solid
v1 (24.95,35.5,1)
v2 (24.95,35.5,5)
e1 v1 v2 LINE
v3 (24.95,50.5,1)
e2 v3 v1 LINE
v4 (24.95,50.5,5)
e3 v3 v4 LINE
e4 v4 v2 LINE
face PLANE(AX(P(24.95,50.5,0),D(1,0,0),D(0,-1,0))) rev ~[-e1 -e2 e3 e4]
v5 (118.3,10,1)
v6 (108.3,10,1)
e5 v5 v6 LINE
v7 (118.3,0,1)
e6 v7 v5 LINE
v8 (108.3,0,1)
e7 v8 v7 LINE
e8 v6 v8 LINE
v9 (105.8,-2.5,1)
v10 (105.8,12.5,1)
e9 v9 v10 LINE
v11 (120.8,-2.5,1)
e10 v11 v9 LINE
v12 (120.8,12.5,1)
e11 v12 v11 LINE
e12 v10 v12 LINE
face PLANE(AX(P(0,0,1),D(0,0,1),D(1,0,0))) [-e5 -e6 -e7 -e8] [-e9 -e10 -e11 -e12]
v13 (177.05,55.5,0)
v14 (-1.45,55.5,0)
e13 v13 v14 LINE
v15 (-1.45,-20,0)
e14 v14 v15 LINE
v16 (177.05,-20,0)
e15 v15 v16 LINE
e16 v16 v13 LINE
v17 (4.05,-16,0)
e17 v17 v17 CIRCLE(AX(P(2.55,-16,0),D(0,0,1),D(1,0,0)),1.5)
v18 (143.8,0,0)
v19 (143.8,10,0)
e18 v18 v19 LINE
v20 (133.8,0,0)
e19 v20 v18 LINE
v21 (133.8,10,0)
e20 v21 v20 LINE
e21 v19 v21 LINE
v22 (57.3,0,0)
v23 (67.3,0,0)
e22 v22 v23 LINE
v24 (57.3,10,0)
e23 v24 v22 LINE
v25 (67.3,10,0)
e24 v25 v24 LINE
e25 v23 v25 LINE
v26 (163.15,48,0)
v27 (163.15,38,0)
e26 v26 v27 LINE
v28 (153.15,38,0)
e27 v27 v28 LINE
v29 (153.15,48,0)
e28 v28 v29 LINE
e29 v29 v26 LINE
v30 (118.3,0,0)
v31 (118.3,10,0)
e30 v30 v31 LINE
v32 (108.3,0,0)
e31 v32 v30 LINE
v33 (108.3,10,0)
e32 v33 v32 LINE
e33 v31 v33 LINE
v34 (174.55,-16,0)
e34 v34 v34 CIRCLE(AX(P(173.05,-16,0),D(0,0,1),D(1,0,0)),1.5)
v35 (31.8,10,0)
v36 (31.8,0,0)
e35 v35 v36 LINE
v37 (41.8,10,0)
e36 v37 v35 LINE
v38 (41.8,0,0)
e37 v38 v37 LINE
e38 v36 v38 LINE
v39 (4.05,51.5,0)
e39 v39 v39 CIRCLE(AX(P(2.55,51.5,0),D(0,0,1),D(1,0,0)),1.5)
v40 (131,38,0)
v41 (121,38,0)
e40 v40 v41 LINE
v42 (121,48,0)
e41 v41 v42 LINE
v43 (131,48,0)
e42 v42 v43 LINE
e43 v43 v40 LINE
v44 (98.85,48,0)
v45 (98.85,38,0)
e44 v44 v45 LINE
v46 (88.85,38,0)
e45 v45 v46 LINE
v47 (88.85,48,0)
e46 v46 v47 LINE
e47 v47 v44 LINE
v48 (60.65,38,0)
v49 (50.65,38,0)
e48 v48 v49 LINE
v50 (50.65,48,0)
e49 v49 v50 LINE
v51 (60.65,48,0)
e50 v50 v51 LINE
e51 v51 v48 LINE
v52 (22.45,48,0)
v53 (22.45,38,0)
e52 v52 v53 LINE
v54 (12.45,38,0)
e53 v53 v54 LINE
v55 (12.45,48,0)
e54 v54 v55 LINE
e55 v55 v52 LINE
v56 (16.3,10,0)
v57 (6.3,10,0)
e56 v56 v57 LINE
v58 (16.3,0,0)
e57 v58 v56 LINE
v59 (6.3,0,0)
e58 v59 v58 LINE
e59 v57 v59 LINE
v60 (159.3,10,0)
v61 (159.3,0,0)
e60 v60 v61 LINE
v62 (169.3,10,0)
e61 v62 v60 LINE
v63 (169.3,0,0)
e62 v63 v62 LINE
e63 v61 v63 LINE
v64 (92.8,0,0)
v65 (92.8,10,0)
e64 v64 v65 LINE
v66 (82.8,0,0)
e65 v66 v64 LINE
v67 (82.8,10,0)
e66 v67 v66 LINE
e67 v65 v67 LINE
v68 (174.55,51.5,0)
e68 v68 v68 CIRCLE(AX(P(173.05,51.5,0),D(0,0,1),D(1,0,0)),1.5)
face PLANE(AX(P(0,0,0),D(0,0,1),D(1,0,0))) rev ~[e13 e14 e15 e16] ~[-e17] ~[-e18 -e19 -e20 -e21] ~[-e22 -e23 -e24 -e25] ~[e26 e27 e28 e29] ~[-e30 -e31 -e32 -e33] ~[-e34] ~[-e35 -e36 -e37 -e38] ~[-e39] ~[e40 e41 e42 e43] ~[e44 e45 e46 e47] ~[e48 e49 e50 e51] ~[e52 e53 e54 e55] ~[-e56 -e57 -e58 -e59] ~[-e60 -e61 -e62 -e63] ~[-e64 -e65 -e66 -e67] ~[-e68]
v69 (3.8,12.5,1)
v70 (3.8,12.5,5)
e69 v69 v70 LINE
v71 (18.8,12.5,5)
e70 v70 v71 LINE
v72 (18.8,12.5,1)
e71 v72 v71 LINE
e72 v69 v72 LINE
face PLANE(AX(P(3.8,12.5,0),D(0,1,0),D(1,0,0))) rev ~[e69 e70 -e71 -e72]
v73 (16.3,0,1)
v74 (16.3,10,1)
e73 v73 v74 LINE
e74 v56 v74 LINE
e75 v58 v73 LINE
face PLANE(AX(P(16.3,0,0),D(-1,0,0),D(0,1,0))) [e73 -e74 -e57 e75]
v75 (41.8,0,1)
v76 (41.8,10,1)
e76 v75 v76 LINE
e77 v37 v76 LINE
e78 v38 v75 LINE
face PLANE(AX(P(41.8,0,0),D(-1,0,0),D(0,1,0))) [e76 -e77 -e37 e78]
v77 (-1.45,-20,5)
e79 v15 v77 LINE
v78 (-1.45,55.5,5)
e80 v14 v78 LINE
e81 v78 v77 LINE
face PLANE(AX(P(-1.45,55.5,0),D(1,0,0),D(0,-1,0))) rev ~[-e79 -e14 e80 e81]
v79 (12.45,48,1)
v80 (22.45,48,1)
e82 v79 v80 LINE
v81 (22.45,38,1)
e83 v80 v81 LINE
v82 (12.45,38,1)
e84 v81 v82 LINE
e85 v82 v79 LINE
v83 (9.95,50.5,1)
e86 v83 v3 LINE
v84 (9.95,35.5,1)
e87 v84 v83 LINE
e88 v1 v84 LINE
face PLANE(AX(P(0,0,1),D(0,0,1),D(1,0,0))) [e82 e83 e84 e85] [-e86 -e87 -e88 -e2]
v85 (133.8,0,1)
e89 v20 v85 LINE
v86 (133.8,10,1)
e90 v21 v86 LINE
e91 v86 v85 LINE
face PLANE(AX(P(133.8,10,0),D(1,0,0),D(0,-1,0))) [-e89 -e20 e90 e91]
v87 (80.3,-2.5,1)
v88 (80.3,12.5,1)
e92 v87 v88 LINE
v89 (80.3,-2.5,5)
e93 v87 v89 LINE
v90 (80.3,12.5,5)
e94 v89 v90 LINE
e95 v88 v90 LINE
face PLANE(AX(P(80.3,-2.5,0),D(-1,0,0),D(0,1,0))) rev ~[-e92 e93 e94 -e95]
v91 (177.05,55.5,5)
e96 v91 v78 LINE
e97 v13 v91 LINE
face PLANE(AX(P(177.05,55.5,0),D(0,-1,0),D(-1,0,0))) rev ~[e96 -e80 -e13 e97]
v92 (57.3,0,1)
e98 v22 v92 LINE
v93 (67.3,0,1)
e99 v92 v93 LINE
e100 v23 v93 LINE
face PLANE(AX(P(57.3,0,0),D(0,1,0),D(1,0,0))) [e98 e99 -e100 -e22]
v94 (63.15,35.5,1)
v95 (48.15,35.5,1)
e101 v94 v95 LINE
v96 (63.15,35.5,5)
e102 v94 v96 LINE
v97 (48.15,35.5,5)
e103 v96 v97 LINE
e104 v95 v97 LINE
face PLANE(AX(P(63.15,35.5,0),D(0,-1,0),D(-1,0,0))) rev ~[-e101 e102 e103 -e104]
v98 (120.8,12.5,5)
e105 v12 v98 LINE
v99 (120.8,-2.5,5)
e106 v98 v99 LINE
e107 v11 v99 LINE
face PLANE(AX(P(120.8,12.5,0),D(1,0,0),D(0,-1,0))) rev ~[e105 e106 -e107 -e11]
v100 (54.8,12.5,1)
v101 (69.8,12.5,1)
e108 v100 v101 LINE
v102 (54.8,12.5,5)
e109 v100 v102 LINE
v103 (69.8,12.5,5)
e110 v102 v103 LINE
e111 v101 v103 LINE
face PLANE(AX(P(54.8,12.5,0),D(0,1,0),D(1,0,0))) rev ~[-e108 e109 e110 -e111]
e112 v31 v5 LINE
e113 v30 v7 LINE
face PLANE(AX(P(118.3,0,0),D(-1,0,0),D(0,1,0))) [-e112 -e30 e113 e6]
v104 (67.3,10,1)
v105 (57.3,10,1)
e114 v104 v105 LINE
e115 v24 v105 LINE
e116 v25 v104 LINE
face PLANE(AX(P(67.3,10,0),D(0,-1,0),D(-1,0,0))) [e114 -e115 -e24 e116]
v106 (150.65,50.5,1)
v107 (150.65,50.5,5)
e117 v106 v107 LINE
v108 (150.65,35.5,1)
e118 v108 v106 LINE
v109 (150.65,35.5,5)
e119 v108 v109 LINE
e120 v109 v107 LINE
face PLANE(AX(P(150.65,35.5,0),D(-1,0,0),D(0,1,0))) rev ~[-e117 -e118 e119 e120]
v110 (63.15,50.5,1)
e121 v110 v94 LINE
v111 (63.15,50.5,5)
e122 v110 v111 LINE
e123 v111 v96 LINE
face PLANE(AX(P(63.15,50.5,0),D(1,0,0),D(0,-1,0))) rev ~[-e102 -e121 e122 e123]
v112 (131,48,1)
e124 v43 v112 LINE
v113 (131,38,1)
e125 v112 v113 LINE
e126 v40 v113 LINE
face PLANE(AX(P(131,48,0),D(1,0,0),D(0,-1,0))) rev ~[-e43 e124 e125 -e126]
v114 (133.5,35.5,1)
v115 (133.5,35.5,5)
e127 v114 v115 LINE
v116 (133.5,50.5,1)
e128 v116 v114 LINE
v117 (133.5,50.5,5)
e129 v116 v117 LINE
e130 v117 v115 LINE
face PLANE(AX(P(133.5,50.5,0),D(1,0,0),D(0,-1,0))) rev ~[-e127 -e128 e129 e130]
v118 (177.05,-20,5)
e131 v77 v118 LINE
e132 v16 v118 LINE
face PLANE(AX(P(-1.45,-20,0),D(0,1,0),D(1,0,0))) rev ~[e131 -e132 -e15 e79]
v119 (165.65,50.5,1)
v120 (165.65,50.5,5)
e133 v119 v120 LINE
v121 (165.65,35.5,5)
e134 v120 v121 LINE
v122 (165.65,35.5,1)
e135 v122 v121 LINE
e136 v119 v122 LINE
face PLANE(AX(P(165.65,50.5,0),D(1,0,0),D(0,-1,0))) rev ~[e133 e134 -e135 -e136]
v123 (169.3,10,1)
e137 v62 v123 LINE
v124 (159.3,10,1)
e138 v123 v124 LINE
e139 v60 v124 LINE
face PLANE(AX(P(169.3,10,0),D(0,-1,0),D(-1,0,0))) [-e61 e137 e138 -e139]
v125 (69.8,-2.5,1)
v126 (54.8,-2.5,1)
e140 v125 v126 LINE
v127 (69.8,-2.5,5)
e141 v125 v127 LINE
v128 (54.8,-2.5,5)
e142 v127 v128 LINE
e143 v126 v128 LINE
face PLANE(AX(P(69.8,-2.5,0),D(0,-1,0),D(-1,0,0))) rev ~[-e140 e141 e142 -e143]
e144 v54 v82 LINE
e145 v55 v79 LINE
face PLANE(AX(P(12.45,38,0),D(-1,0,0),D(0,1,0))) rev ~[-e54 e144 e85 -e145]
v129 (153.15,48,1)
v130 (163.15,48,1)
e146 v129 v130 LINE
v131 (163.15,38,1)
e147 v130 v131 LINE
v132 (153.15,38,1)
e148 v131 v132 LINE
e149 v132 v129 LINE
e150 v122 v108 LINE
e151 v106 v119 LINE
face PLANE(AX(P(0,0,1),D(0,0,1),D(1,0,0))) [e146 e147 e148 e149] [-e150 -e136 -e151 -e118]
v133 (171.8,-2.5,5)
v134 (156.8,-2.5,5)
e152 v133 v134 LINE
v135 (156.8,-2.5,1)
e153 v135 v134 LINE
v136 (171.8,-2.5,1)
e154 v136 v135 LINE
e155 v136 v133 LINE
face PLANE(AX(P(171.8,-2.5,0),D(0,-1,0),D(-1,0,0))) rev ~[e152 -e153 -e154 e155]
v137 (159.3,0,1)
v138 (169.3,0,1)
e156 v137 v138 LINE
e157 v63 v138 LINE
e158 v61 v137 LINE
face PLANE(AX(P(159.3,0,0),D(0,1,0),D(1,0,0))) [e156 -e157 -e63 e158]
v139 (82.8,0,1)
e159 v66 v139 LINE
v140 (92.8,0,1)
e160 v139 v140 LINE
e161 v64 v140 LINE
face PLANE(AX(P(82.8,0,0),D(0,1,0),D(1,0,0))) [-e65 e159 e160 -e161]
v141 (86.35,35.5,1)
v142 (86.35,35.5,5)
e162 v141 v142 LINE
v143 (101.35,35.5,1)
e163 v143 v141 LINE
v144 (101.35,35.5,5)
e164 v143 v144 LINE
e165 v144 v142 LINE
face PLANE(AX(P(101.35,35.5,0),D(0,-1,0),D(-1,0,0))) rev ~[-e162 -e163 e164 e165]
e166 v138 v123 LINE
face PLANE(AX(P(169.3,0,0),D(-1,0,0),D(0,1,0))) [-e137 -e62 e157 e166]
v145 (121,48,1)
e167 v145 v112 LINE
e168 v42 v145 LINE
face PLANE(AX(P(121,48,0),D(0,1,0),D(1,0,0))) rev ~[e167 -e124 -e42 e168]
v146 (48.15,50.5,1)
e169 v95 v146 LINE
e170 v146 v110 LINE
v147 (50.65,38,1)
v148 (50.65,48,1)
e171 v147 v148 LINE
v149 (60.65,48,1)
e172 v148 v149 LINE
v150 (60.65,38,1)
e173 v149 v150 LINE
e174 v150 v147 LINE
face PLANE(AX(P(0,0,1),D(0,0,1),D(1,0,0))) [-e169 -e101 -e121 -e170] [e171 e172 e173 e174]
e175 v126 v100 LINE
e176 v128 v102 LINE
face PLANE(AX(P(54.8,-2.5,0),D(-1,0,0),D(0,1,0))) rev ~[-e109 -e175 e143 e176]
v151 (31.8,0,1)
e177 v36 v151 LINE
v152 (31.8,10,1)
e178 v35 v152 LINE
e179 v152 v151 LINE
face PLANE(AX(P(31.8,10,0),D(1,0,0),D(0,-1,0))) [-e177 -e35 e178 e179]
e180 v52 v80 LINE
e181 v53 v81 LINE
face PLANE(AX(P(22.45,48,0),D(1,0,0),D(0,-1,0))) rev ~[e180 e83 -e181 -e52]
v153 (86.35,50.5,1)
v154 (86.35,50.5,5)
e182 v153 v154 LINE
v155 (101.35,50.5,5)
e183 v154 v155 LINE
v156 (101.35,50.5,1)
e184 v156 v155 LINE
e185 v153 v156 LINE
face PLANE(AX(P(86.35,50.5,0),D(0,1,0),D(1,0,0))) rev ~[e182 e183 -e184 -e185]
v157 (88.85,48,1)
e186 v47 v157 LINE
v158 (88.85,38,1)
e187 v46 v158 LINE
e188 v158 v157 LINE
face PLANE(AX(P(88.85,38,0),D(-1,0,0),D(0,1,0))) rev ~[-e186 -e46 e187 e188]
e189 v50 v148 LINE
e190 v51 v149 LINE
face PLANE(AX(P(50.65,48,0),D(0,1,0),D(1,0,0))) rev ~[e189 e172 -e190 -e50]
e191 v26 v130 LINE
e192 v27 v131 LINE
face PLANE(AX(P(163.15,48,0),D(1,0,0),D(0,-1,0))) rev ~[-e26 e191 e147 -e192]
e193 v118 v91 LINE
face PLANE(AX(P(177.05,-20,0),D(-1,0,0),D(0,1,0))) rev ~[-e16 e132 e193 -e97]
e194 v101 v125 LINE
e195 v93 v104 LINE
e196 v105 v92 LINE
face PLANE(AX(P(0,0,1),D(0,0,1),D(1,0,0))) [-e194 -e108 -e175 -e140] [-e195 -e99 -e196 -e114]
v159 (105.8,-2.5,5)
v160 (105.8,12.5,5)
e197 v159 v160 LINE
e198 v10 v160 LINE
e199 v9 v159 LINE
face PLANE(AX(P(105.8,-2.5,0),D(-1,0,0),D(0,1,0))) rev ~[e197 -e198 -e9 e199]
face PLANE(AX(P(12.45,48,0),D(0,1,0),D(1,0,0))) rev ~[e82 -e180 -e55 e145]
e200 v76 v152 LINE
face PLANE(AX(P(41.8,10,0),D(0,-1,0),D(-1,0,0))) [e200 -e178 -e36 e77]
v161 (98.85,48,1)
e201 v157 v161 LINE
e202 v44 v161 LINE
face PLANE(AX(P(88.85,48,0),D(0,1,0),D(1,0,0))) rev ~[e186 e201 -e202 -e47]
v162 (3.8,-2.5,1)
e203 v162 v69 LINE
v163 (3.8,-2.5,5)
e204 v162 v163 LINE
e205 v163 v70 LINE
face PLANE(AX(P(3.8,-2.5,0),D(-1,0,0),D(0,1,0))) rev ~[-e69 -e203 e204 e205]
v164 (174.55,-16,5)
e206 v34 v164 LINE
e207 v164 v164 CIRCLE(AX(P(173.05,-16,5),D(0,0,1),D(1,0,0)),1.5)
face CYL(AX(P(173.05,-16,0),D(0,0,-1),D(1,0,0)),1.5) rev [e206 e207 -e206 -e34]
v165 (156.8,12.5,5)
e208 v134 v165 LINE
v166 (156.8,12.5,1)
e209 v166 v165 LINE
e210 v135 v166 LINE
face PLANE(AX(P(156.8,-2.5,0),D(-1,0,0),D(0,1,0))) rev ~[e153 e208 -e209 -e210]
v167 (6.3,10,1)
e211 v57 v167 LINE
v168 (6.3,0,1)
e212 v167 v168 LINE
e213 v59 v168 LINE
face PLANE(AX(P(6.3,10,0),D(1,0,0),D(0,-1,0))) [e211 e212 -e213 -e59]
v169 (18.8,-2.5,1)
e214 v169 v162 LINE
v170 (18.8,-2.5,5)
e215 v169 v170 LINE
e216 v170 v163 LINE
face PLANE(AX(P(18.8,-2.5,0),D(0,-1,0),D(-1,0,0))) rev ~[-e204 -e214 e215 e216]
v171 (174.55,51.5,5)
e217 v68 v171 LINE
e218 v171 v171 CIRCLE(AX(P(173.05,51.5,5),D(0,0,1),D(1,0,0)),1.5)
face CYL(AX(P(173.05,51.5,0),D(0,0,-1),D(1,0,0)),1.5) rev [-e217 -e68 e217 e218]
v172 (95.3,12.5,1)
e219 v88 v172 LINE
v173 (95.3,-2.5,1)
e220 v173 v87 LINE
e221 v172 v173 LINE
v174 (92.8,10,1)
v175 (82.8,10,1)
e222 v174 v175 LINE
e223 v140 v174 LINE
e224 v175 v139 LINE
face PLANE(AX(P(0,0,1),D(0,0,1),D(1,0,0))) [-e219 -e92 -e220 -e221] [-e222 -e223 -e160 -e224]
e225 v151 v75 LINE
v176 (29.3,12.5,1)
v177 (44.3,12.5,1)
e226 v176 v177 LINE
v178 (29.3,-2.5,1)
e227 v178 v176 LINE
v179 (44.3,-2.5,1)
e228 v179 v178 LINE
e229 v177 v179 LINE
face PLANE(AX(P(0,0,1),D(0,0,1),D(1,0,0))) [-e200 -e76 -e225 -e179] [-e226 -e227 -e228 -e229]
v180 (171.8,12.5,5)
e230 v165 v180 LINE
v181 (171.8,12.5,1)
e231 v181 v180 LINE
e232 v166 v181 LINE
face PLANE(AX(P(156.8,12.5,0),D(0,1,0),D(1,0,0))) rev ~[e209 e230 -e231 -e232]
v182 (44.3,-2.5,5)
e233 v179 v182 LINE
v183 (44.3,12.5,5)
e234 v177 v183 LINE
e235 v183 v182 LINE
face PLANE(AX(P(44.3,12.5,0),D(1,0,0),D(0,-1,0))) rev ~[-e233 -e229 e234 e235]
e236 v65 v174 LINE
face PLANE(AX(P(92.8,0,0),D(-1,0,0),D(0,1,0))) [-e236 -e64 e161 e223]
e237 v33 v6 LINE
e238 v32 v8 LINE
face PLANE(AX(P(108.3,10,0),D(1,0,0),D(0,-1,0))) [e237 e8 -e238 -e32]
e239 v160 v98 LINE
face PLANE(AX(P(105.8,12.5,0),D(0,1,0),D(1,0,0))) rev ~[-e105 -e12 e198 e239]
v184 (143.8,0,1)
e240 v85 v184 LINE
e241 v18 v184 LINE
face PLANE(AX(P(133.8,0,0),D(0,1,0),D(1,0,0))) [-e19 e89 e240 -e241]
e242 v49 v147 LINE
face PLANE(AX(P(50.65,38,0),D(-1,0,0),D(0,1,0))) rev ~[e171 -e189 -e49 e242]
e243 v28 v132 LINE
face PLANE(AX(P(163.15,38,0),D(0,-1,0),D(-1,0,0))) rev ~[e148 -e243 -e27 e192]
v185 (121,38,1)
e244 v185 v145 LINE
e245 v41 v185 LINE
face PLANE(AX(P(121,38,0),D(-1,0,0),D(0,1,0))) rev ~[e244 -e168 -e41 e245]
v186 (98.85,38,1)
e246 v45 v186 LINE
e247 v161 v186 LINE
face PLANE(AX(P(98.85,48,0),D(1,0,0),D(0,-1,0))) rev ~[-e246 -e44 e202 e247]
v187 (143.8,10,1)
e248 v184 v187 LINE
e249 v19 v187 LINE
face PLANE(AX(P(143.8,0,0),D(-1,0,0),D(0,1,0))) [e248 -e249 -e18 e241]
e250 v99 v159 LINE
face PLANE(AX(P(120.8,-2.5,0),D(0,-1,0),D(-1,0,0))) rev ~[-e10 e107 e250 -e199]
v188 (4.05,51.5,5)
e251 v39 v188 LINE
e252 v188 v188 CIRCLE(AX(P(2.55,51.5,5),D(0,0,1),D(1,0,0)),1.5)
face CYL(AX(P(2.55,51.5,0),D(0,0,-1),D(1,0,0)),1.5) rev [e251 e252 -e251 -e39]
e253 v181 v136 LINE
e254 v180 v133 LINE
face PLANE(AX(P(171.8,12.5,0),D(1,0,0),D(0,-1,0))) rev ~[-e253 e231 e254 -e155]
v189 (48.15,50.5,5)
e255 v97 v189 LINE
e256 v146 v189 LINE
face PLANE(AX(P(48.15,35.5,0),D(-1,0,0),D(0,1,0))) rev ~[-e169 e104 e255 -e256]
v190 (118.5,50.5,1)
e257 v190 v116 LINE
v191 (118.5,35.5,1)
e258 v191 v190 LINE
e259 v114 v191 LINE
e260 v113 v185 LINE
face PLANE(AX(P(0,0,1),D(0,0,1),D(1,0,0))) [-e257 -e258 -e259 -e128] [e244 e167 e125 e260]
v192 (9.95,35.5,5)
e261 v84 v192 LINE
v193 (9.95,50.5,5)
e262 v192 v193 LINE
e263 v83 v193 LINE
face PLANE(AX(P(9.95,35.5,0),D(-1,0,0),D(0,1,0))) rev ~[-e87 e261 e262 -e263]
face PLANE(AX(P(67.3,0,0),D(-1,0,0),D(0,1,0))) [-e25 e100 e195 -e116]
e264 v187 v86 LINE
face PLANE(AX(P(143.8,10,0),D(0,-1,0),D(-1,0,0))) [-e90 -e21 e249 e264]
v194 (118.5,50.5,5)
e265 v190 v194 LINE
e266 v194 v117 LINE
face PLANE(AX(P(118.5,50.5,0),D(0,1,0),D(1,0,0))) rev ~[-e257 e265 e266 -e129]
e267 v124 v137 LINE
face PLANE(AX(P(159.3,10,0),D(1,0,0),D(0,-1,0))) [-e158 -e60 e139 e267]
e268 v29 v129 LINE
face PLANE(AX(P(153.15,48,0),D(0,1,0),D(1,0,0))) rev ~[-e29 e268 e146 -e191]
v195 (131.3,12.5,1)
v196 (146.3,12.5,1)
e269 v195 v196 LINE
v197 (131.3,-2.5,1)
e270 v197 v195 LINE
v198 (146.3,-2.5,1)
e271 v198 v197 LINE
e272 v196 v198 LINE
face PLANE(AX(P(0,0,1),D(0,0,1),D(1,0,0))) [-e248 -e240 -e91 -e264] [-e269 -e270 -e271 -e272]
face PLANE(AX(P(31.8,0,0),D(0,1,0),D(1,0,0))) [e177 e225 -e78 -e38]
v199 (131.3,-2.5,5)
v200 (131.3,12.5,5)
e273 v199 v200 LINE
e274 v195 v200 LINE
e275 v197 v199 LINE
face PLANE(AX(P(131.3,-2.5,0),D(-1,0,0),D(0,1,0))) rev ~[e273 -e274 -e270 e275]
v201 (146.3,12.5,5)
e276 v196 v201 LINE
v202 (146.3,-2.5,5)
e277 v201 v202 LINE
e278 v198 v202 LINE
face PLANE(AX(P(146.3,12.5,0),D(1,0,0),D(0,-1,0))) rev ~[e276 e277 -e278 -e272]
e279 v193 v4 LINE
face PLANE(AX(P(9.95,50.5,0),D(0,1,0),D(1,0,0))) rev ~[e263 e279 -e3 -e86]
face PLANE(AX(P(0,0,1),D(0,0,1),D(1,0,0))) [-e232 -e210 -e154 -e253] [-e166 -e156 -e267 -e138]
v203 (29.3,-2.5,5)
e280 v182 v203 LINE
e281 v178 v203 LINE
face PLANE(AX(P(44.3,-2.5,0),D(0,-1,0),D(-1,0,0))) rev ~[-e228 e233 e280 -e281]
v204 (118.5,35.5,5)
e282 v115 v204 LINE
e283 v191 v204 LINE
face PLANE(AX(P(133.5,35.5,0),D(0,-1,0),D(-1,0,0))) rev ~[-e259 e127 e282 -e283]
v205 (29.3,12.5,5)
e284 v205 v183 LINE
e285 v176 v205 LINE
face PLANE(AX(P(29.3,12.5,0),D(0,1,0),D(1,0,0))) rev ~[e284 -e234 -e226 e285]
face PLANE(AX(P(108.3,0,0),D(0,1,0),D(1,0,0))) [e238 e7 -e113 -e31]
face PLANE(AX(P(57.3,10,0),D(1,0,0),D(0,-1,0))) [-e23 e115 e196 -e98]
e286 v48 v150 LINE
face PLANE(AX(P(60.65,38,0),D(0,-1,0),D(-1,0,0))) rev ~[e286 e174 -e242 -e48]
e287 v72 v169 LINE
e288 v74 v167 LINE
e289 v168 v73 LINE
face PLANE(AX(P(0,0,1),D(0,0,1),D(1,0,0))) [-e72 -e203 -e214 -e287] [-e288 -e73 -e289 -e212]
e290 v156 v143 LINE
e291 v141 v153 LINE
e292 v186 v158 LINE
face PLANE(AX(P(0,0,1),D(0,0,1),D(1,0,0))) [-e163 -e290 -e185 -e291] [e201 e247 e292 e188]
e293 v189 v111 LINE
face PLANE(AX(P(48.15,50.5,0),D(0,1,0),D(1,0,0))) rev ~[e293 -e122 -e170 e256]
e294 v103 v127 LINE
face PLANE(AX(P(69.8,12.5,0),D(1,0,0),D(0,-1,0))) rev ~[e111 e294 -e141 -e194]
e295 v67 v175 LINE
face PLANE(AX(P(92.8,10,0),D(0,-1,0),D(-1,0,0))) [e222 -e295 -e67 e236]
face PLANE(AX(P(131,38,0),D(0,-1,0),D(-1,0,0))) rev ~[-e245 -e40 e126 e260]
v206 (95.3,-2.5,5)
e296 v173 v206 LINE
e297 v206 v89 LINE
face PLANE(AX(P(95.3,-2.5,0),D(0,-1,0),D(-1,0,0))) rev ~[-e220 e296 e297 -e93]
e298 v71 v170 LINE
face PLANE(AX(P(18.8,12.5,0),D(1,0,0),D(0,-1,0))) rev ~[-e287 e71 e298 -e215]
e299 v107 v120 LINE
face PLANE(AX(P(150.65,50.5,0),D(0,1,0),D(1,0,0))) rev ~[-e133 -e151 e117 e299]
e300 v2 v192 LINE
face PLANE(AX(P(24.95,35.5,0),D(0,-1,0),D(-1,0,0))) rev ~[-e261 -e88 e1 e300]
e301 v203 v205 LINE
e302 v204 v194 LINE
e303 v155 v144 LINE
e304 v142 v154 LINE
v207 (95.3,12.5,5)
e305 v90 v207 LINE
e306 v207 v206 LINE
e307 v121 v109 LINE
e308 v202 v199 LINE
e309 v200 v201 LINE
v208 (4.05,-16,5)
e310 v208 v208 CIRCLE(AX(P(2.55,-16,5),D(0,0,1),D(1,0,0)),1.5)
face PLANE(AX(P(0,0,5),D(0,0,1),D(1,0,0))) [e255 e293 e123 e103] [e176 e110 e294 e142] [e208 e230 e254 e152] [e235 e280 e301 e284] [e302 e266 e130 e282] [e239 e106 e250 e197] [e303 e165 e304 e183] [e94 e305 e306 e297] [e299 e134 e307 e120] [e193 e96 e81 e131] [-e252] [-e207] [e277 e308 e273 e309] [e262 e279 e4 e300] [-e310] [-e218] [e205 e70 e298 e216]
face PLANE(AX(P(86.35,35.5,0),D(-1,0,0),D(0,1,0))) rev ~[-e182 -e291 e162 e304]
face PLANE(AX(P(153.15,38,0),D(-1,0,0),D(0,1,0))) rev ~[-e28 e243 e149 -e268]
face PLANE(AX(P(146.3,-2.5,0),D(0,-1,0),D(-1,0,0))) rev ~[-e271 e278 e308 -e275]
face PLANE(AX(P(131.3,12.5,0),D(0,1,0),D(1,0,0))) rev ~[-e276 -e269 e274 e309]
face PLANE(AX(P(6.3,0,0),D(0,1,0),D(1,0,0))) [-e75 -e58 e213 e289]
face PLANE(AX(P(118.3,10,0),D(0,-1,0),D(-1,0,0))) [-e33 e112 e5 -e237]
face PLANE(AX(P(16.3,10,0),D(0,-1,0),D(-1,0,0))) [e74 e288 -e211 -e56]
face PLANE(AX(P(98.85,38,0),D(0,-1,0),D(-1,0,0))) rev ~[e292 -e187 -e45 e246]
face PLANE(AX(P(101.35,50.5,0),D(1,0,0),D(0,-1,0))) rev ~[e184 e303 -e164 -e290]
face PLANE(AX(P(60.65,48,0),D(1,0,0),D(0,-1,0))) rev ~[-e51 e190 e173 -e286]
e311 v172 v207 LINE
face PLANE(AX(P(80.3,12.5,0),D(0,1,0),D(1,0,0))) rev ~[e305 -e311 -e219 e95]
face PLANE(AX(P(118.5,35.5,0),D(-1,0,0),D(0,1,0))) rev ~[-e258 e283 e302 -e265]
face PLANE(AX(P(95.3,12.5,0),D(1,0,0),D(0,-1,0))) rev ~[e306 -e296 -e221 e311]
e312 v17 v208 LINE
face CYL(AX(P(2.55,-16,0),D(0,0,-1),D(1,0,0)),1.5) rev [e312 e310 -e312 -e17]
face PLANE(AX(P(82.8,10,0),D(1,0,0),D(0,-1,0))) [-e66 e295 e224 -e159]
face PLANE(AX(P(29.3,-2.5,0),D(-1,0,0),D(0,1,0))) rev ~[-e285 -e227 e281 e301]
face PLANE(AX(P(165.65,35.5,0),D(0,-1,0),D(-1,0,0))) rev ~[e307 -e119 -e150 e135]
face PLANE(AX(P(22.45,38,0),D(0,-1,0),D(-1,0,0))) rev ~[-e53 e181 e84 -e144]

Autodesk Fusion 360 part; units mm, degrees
sketch "Sketch1" plane through (0, 0, 0) normal (0, 0, 1) x (1, 0, 0)
  line L0 (-23.9041, 0) -> (63.45, 0) construction
  line L1 (78.95, 0) -> (176.0959, 0) construction
  line L2 (-1.45, -20) -> (177.05, -20)
  line L3 (177.05, -20) -> (177.05, 55.5)
  line L4 (177.05, 55.5) -> (-1.45, 55.5)
  line L5 (-1.45, 55.5) -> (-1.45, -20)
  line L6 (6.3, 0) -> (16.3, 0)
  line L7 (16.3, 0) -> (16.3, 10)
  line L8 (16.3, 10) -> (6.3, 10)
  line L9 (6.3, 10) -> (6.3, 0)
  line L10 (31.8, 0) -> (41.8, 0)
  line L11 (41.8, 0) -> (41.8, 10)
  line L12 (41.8, 10) -> (31.8, 10)
  line L13 (31.8, 10) -> (31.8, 0)
  line L14 (57.3, 0) -> (67.3, 0)
  line L15 (67.3, 0) -> (67.3, 10)
  line L16 (67.3, 10) -> (57.3, 10)
  line L17 (57.3, 10) -> (57.3, 0)
  line L18 (82.8, 0) -> (92.8, 0)
  line L19 (92.8, 0) -> (92.8, 10)
  line L20 (92.8, 10) -> (82.8, 10)
  line L21 (82.8, 10) -> (82.8, 0)
  line L22 (108.3, 0) -> (118.3, 0)
  line L23 (118.3, 0) -> (118.3, 10)
  line L24 (118.3, 10) -> (108.3, 10)
  line L25 (108.3, 10) -> (108.3, 0)
  line L26 (133.8, 0) -> (143.8, 0)
  line L27 (143.8, 0) -> (143.8, 10)
  line L28 (143.8, 10) -> (133.8, 10)
  line L29 (133.8, 10) -> (133.8, 0)
  line L30 (159.3, 0) -> (169.3, 0)
  line L31 (169.3, 0) -> (169.3, 10)
  line L32 (169.3, 10) -> (159.3, 10)
  line L33 (159.3, 10) -> (159.3, 0)
  line L34 (12.45, 48) -> (22.45, 48)
  line L35 (22.45, 48) -> (22.45, 38)
  line L36 (22.45, 38) -> (12.45, 38)
  line L37 (12.45, 38) -> (12.45, 48)
  line L38 (50.65, 48) -> (60.65, 48)
  line L39 (60.65, 48) -> (60.65, 38)
  line L40 (60.65, 38) -> (50.65, 38)
  line L41 (50.65, 38) -> (50.65, 48)
  line L42 (88.85, 48) -> (98.85, 48)
  line L43 (98.85, 48) -> (98.85, 38)
  line L44 (98.85, 38) -> (88.85, 38)
  line L45 (88.85, 38) -> (88.85, 48)
  line L46 (121, 48) -> (131, 48)
  line L47 (131, 48) -> (131, 38)
  line L48 (131, 38) -> (121, 38)
  line L49 (121, 38) -> (121, 48)
  line L50 (153.15, 48) -> (163.15, 48)
  line L51 (163.15, 48) -> (163.15, 38)
  line L52 (163.15, 38) -> (153.15, 38)
  line L53 (153.15, 38) -> (153.15, 48)
  line L54 (9.95, 50.5) -> (24.95, 50.5)
  line L55 (24.95, 50.5) -> (24.95, 35.5)
  line L56 (24.95, 35.5) -> (9.95, 35.5)
  line L57 (9.95, 35.5) -> (9.95, 50.5)
  line L58 (9.95, 50.5) -> (24.95, 35.5) construction
  line L59 (24.95, 50.5) -> (9.95, 35.5) construction
  line L60 (48.15, 50.5) -> (63.15, 50.5)
  line L61 (63.15, 50.5) -> (63.15, 35.5)
  line L62 (63.15, 35.5) -> (48.15, 35.5)
  line L63 (48.15, 35.5) -> (48.15, 50.5)
  line L64 (48.15, 50.5) -> (63.15, 35.5) construction
  line L65 (63.15, 50.5) -> (48.15, 35.5) construction
  line L66 (86.35, 50.5) -> (101.35, 50.5)
  line L67 (101.35, 50.5) -> (101.35, 35.5)
  line L68 (101.35, 35.5) -> (86.35, 35.5)
  line L69 (86.35, 35.5) -> (86.35, 50.5)
  line L70 (86.35, 50.5) -> (101.35, 35.5) construction
  line L71 (101.35, 50.5) -> (86.35, 35.5) construction
  line L72 (118.5, 50.5) -> (133.5, 50.5)
  line L73 (133.5, 50.5) -> (133.5, 35.5)
  line L74 (133.5, 35.5) -> (118.5, 35.5)
  line L75 (118.5, 35.5) -> (118.5, 50.5)
  line L76 (118.5, 50.5) -> (133.5, 35.5) construction
  line L77 (133.5, 50.5) -> (118.5, 35.5) construction
  line L78 (150.65, 50.5) -> (165.65, 50.5)
  line L79 (165.65, 50.5) -> (165.65, 35.5)
  line L80 (165.65, 35.5) -> (150.65, 35.5)
  line L81 (150.65, 35.5) -> (150.65, 50.5)
  line L82 (150.65, 50.5) -> (165.65, 35.5) construction
  line L83 (165.65, 50.5) -> (150.65, 35.5) construction
  line L84 (3.8, 12.5) -> (18.8, 12.5)
  line L85 (18.8, 12.5) -> (18.8, -2.5)
  line L86 (18.8, -2.5) -> (3.8, -2.5)
  line L87 (3.8, -2.5) -> (3.8, 12.5)
  line L88 (3.8, 12.5) -> (18.8, -2.5) construction
  line L89 (18.8, 12.5) -> (3.8, -2.5) construction
  line L90 (29.3, 12.5) -> (44.3, 12.5)
  line L91 (44.3, 12.5) -> (44.3, -2.5)
  line L92 (44.3, -2.5) -> (29.3, -2.5)
  line L93 (29.3, -2.5) -> (29.3, 12.5)
  line L94 (29.3, 12.5) -> (44.3, -2.5) construction
  line L95 (44.3, 12.5) -> (29.3, -2.5) construction
  line L96 (54.8, 12.5) -> (69.8, 12.5)
  line L97 (69.8, 12.5) -> (69.8, -2.5)
  line L98 (69.8, -2.5) -> (54.8, -2.5)
  line L99 (54.8, -2.5) -> (54.8, 12.5)
  line L100 (54.8, 12.5) -> (69.8, -2.5) construction
  line L101 (69.8, 12.5) -> (54.8, -2.5) construction
  line L102 (80.3, 12.5) -> (95.3, 12.5)
  line L103 (95.3, 12.5) -> (95.3, -2.5)
  line L104 (95.3, -2.5) -> (80.3, -2.5)
  line L105 (80.3, -2.5) -> (80.3, 12.5)
  line L106 (80.3, 12.5) -> (95.3, -2.5) construction
  line L107 (95.3, 12.5) -> (80.3, -2.5) construction
  line L108 (105.8, 12.5) -> (120.8, 12.5)
  line L109 (120.8, 12.5) -> (120.8, -2.5)
  line L110 (120.8, -2.5) -> (105.8, -2.5)
  line L111 (105.8, -2.5) -> (105.8, 12.5)
  line L112 (105.8, 12.5) -> (120.8, -2.5) construction
  line L113 (120.8, 12.5) -> (105.8, -2.5) construction
  line L114 (131.3, 12.5) -> (146.3, 12.5)
  line L115 (146.3, 12.5) -> (146.3, -2.5)
  line L116 (146.3, -2.5) -> (131.3, -2.5)
  line L117 (131.3, -2.5) -> (131.3, 12.5)
  line L118 (131.3, 12.5) -> (146.3, -2.5) construction
  line L119 (146.3, 12.5) -> (131.3, -2.5) construction
  line L120 (156.8, 12.5) -> (171.8, 12.5)
  line L121 (171.8, 12.5) -> (171.8, -2.5)
  line L122 (171.8, -2.5) -> (156.8, -2.5)
  line L123 (156.8, -2.5) -> (156.8, 12.5)
  line L124 (156.8, 12.5) -> (171.8, -2.5) construction
  line L125 (171.8, 12.5) -> (156.8, -2.5) construction
  circle A0 centre (2.55, 51.5) radius 1.5
  circle A1 centre (2.55, -16) radius 1.5
  circle A2 centre (173.05, -16) radius 1.5
  circle A3 centre (173.05, 51.5) radius 1.5
  point P0 (-11.7503, 0.5527)
  point P1 (17.45, 43)
  point P2 (55.65, 43)
  point P3 (93.85, 43)
  point P4 (126, 43)
  point P5 (158.15, 43)
  point P6 (11.3, 5)
  point P7 (36.8, 5)
  point P8 (62.3, 5)
  point P9 (87.8, 5)
  point P10 (113.3, 5)
  point P11 (138.8, 5)
  point P12 (164.3, 5)
  dimension "d77" = 200
  dimension "d86" = 75.5
  dimension "d89" = 10
  dimension "d90" = 10
  dimension "d91" = 20
  dimension "d92" = 7.75
  dimension "d93" = 10
  dimension "d94" = 10
  dimension "d95" = 10
  dimension "d96" = 10
  dimension "d99" = 10
  dimension "d100" = 10
  dimension "d101" = 15.5
  dimension "d102" = 15.5
  dimension "d104" = 15.5
  dimension "d105" = 10
  dimension "d106" = 10
  dimension "d107" = 15.5
  dimension "d108" = 10
  dimension "d109" = 10
  dimension "d110" = 15.5
  dimension "d111" = 10
  dimension "d112" = 10
  dimension "d113" = 15.5
  dimension "d114" = 10
  dimension "d115" = 10
  dimension "d116" = 13.9
  dimension "d117" = 7.5
  dimension "d118" = 10
  dimension "d119" = 10
  dimension "d120" = 7.5
  dimension "d121" = 28.2
  dimension "d122" = 10
  dimension "d123" = 10
  dimension "d124" = 28.2
  dimension "d125" = 7.5
  dimension "d126" = 10
  dimension "d127" = 10
  dimension "d128" = 22.15
  dimension "d129" = 7.5
  dimension "d130" = 10
  dimension "d131" = 10
  dimension "d132" = 22.15
  dimension "d133" = 7.5
  dimension "d134" = 15
  dimension "d135" = 15
  dimension "d136" = 15
  dimension "d137" = 15
  dimension "d138" = 15
  dimension "d139" = 15
  dimension "d140" = 15
  dimension "d141" = 15
  dimension "d142" = 15
  dimension "d143" = 15
  dimension "d144" = 15
  dimension "d145" = 15
  dimension "d146" = 15
  dimension "d147" = 15
  dimension "d148" = 15
  dimension "d149" = 15
  dimension "d150" = 15
  dimension "d151" = 15
  dimension "d152" = 15
  dimension "d153" = 15
  dimension "d154" = 15
  dimension "d155" = 15
  dimension "d156" = 15
  dimension "d157" = 15
  dimension "d158" = 3
  dimension "d159" = 4
  dimension "d160" = 4
  dimension "d161" = 3
  dimension "d162" = 4
  dimension "d163" = 4
  dimension "d164" = 3
  dimension "d165" = 4
  dimension "d166" = 4
  dimension "d167" = 3
  dimension "d168" = 4
  dimension "d169" = 4
  dimension "d174" = 2.5
  dimension "d175" = 2.5
  dimension "d176" = 2.5
  dimension "d177" = 2.5
  dimension "d178" = 2.5
  dimension "d179" = 2.5
  dimension "d182" = 5.25
  dimension "d183" = 2.5
  dimension "d184" = 2.5
  dimension "d185" = 2.5
  dimension "d186" = 2.5
  dimension "d187" = 2.5
  dimension "d188" = 2.5
  dimension "d189" = 2.5
  dimension "d190" = 2.5
  dimension "d191" = 2.5
  dimension "d192" = 2.5
  dimension "d193" = 2.5
extrude "Extrude1" add sketch "Sketch1" along normal blind 1 contours L54 L55 L56 L57 | L60 L61 L62 L63 | L66 L67 L68 L69 | L72 L73 L74 L75 | L78 L79 L80 L81 | L84 L85 L86 L87 | L90 L91 L92 L93 | L96 L97 L98 L99 | L102 L103 L104 L105 | L108 L109 L110 L111 | L114 L115 L116 L117 | L120 L121 L122 L123 makes body 1 at (140.4667, 11.6667, 0) makes body 2 at (89.4667, 11.6667, 0) makes body 3 at (12.9667, -1.6667, 0) makes body 4 at (35.1333, 11.6667, 0) makes body 5 at (95.5167, 36.3333, 0) makes body 6 at (151.4833, 41.3333, 0) makes body 7 at (119.3333, 41.3333, 0) makes body 8 at (60.6333, -1.6667, 0) makes body 9 at (24.1167, 44.6667, 0) makes body 10 at (57.3167, 49.6667, 0) makes body 11 at (114.9667, -1.6667, 0) makes body 12 at (162.6333, 11.6667, 0)
extrude "Extrude2" add sketch "Sketch1" along normal blind 5 contours L2 L3 L4 L5 bodies 1 2 3 4 5 6 7 8 9 10 11 12
